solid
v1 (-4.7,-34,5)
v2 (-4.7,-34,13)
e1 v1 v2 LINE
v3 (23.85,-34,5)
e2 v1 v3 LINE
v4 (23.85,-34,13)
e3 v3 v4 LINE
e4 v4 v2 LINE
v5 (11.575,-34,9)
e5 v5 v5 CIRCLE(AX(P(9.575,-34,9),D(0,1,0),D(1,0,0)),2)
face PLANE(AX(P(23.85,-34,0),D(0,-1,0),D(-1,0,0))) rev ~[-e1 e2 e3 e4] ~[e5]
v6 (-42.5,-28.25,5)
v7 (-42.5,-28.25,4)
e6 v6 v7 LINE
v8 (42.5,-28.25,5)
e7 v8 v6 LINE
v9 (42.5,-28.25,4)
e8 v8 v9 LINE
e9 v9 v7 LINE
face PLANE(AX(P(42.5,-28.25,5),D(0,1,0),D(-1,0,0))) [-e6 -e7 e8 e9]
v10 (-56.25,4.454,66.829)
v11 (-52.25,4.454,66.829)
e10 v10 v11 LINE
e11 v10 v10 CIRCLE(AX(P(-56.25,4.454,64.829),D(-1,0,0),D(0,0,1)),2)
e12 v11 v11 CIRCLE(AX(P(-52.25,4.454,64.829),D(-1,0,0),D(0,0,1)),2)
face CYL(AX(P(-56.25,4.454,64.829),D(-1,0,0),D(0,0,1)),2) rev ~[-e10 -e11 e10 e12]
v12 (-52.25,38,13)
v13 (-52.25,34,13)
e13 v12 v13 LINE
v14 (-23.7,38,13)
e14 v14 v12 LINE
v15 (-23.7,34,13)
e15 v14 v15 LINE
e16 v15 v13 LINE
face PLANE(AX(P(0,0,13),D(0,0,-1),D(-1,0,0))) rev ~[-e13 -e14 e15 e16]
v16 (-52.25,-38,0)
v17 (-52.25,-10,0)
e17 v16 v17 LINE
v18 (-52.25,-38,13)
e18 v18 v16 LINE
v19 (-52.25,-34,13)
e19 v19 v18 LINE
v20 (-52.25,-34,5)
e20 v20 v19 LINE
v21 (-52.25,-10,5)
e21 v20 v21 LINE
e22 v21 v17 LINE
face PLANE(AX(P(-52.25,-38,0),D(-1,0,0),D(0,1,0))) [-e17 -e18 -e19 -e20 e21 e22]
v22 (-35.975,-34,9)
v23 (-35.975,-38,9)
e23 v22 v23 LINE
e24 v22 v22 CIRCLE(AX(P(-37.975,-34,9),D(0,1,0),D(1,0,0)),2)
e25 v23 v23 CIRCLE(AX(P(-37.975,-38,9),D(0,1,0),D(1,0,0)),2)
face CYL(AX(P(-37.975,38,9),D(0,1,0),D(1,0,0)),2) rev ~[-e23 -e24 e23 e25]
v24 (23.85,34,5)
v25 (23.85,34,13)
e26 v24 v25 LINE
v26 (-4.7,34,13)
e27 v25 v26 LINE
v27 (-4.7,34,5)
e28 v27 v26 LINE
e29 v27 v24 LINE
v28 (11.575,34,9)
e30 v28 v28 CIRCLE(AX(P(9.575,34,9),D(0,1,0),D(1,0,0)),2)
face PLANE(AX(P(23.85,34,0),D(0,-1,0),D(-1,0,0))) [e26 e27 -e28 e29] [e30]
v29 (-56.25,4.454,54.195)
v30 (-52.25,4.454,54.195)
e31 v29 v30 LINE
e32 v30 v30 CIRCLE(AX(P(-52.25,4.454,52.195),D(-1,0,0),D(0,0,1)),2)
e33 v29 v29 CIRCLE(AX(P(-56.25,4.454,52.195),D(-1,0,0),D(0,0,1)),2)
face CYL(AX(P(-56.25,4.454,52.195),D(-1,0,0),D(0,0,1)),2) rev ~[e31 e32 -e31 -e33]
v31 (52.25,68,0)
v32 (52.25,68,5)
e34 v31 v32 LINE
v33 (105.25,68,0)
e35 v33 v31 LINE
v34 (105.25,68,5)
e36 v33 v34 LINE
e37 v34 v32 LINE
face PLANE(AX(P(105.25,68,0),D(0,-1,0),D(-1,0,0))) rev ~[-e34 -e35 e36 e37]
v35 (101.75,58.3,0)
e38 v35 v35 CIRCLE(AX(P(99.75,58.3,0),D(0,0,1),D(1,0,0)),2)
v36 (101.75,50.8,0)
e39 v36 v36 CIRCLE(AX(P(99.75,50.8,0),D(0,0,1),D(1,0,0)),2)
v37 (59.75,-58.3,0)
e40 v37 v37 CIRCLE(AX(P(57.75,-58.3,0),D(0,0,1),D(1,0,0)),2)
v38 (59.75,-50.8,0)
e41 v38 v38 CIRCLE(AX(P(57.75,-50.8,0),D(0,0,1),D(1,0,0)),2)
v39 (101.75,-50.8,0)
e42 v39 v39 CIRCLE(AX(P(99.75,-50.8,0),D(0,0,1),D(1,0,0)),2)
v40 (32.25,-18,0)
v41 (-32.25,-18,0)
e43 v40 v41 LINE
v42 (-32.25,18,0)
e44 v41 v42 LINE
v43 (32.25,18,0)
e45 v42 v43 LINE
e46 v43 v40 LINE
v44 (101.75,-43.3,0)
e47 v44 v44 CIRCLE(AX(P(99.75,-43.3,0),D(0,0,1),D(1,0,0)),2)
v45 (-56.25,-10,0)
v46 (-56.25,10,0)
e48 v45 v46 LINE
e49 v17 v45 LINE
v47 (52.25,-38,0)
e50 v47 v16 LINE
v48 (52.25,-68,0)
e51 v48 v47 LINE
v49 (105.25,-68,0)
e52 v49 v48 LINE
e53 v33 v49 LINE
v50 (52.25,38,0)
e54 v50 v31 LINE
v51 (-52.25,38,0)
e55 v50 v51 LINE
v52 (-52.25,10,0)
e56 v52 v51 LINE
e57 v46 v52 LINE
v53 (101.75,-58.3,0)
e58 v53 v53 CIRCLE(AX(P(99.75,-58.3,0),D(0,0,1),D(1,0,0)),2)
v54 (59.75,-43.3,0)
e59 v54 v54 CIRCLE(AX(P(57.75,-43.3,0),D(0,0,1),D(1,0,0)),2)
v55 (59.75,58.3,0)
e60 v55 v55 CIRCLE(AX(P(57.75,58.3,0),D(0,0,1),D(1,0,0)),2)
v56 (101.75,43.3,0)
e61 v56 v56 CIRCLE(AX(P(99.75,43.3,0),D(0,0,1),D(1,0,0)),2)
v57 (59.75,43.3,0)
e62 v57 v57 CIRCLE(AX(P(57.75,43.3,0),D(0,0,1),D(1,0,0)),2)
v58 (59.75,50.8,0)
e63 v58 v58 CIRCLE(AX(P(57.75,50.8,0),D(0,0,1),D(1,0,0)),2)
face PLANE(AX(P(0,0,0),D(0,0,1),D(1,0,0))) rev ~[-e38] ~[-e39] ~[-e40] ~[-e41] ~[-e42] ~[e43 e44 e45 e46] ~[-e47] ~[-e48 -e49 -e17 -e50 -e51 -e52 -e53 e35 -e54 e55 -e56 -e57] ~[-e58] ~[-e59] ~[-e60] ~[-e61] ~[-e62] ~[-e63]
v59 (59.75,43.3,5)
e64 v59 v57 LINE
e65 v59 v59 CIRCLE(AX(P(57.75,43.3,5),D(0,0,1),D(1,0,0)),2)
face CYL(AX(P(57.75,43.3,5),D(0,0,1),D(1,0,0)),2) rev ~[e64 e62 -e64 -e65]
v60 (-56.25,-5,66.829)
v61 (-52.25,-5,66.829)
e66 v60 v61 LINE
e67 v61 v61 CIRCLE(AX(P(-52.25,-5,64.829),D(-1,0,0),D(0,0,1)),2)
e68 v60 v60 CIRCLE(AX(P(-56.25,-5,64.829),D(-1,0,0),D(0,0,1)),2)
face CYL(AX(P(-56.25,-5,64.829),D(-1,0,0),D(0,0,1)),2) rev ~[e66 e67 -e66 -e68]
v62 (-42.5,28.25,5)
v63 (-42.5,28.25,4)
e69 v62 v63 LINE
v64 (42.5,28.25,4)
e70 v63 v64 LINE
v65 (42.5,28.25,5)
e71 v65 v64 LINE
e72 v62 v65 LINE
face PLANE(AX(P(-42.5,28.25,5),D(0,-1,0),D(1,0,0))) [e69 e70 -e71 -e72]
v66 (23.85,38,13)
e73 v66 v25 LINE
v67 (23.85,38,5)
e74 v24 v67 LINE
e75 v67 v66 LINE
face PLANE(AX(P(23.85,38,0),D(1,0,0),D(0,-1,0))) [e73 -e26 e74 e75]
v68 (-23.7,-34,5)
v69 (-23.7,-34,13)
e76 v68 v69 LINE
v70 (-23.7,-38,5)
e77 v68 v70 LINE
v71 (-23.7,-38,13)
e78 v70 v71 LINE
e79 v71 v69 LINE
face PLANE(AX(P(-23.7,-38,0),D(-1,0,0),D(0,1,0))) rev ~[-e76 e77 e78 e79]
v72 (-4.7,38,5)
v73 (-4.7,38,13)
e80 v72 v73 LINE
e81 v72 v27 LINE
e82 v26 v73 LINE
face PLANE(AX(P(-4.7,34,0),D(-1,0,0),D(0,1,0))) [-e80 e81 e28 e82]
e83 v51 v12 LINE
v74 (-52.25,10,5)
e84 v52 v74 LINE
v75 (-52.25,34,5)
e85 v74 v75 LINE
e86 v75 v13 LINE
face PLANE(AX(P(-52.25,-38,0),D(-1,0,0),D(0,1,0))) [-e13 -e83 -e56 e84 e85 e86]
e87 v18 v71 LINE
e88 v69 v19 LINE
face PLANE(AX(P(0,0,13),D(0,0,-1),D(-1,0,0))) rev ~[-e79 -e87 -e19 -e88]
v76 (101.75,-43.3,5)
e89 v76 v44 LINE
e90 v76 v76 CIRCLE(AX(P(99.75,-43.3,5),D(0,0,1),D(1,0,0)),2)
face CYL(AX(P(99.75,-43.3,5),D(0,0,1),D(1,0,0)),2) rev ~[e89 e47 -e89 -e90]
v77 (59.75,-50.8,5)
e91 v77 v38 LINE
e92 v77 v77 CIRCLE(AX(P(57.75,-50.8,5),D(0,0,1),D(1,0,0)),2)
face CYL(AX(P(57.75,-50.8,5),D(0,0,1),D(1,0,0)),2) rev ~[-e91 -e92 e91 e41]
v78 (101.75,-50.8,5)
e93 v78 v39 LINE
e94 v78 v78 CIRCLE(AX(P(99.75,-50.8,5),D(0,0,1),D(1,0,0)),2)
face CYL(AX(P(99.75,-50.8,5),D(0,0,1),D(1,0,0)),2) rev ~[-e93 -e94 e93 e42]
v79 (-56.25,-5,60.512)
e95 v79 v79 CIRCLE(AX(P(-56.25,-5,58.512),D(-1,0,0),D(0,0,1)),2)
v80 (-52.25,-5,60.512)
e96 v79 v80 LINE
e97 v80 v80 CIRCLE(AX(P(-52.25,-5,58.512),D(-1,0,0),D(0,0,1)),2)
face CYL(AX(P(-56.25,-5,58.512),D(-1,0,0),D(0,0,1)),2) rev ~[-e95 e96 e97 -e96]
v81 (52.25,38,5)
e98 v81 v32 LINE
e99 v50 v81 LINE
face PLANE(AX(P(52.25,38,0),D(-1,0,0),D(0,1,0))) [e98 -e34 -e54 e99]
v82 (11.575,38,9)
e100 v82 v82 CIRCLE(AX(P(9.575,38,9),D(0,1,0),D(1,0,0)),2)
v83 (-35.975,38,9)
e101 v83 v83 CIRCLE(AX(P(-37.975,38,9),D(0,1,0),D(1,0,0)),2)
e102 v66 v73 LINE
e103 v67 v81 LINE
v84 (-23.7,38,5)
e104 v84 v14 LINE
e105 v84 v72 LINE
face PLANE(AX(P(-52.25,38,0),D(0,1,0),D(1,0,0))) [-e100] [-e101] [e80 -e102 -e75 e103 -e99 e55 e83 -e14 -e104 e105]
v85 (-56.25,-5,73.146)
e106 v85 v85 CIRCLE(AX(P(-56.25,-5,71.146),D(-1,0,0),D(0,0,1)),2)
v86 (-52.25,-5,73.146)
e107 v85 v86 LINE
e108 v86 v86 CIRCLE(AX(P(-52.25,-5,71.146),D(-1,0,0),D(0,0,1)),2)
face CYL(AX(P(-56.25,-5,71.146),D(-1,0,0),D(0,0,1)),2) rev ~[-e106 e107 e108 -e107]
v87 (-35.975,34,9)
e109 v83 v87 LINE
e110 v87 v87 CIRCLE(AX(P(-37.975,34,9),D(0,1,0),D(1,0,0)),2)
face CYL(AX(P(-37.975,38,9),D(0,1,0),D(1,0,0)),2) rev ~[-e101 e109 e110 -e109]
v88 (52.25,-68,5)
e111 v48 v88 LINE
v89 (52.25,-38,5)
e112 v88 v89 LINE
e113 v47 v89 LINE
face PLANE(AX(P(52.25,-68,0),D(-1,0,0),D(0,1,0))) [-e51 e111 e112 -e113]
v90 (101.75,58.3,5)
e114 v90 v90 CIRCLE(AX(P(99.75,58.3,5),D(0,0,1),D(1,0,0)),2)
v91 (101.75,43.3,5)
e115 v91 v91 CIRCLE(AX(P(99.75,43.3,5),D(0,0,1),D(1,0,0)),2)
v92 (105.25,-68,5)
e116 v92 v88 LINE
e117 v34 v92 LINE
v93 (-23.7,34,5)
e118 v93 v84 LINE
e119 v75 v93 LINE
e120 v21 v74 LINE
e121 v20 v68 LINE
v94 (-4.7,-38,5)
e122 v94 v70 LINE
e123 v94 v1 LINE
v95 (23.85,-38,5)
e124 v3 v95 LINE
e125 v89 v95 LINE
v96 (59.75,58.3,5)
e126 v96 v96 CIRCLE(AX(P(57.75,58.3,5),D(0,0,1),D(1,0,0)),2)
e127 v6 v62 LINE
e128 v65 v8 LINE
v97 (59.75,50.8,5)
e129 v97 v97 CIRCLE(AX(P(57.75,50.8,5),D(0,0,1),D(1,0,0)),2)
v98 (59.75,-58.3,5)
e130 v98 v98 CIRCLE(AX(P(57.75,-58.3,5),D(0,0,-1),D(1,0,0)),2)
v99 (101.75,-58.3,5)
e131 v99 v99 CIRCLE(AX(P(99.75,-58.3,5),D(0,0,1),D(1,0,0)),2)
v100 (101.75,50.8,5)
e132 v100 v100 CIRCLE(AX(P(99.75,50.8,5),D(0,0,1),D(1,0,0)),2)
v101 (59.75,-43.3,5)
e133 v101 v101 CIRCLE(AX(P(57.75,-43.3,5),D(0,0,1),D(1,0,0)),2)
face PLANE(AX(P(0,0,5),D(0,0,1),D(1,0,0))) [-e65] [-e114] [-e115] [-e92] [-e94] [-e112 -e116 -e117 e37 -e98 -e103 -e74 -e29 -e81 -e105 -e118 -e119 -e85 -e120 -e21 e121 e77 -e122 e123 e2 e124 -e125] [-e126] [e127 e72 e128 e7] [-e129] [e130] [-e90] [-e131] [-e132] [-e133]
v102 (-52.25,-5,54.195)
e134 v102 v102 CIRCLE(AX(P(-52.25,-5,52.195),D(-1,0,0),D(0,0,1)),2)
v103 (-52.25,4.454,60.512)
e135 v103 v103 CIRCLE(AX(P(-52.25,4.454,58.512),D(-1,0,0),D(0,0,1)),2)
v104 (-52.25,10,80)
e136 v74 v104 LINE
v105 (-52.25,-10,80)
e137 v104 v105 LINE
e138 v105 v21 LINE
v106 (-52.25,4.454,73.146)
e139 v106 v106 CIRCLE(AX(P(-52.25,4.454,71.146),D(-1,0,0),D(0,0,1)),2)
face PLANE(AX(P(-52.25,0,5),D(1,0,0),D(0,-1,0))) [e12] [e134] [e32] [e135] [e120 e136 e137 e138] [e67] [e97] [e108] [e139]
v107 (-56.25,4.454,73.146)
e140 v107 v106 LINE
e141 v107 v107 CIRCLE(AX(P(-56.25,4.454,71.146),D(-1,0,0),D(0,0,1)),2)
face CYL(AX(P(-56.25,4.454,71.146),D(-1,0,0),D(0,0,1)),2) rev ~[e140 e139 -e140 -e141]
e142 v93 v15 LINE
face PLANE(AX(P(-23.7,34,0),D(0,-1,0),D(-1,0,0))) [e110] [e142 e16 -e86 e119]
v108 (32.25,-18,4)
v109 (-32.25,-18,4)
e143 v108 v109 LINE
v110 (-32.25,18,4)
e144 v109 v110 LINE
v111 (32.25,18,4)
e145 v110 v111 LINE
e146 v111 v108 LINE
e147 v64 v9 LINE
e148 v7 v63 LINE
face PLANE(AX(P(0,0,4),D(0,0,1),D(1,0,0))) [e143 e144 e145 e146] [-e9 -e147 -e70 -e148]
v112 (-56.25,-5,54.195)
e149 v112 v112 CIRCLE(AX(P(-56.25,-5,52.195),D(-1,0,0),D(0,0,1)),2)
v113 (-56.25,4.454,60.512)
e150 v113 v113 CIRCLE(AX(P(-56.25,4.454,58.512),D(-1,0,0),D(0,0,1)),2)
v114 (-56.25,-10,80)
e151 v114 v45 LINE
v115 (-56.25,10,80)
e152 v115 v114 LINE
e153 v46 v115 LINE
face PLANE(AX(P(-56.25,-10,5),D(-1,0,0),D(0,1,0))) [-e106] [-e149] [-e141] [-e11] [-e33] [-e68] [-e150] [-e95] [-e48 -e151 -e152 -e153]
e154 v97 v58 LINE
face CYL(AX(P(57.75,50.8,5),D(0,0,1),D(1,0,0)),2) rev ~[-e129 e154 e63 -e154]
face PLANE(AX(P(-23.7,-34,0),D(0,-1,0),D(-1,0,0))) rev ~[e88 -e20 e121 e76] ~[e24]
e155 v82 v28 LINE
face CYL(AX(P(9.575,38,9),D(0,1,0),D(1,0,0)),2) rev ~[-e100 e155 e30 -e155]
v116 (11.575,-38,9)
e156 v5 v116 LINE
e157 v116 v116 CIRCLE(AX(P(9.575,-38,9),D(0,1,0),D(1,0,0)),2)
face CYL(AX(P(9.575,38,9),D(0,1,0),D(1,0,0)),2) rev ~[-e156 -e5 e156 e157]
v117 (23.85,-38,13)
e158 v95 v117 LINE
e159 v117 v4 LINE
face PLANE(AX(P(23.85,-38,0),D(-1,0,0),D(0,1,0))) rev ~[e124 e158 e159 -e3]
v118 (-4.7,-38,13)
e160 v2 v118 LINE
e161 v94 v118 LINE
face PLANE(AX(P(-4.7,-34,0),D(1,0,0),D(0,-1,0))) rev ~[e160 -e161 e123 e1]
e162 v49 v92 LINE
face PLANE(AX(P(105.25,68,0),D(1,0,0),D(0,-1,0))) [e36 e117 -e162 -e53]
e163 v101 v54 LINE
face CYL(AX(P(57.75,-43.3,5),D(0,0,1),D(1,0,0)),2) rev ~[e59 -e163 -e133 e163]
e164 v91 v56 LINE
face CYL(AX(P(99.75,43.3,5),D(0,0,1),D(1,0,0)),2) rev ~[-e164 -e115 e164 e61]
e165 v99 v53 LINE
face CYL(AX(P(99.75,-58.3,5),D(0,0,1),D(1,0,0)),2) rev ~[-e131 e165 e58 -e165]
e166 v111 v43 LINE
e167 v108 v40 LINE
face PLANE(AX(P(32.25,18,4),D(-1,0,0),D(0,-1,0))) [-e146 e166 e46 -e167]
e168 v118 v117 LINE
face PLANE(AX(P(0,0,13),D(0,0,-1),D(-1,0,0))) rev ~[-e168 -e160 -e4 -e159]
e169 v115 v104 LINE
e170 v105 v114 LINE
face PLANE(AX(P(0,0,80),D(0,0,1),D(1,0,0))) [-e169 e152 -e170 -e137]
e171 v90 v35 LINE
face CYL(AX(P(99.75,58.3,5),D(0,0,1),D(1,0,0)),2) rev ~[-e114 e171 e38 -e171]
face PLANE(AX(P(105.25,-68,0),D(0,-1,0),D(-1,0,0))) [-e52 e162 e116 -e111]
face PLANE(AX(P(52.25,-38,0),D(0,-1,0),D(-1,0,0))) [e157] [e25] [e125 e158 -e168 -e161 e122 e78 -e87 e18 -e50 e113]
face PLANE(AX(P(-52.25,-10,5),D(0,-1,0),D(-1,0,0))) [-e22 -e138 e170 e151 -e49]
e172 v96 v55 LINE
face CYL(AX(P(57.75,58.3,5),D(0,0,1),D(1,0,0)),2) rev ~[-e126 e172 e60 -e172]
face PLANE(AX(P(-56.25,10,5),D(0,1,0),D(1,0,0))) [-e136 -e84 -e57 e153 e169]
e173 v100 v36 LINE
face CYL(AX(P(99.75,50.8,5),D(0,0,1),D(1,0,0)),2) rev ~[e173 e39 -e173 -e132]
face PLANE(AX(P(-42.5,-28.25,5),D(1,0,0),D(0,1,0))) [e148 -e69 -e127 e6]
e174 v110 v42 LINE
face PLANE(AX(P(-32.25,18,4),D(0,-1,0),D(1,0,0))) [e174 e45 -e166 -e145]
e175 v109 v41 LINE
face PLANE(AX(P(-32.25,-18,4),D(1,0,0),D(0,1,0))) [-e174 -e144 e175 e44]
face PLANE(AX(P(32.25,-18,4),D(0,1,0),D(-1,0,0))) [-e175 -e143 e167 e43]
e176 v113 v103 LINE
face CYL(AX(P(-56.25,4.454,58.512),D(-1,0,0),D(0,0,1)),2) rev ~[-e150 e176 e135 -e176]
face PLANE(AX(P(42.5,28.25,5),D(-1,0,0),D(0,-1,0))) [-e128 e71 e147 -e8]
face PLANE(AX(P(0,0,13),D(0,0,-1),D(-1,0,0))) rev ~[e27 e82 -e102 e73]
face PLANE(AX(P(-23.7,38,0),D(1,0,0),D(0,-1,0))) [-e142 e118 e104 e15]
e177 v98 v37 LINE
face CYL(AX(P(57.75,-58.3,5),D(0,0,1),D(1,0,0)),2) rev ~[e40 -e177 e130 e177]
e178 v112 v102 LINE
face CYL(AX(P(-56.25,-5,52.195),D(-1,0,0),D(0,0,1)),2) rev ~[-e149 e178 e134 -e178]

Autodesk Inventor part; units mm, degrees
ref_plane "YZ Plane" through (0, 0, 0) normal (1, 0, 0) x (0, 1, 0)
ref_plane "XZ Plane" through (0, 0, 0) normal (0, 1, 0) x (-1, 0, 0)
ref_plane "XY Plane" through (0, 0, 0) normal (0, 0, 1) x (1, 0, 0)
sketch "Эскиз1" plane through (0, 0, 0) normal (0, 0, 1) x (1, 0, 0)
  line L0 (-42.5, -28.25) -> (42.5, -28.25) construction
  line L1 (42.5, -28.25) -> (42.5, 28.25) construction
  line L2 (42.5, 28.25) -> (-42.5, 28.25) construction
  line L3 (-42.5, 28.25) -> (-42.5, -28.25) construction
  line L4 (-52.25, 38) -> (52.25, 38)
  line L5 (52.25, 38) -> (52.25, -38)
  line L6 (52.25, -38) -> (-52.25, -38)
  line L7 (-52.25, -38) -> (-52.25, 38)
  line L8 (52.25, 38) -> (52.25, 68) construction
  line L9 (52.25, 68) -> (105.25, 68) construction
  line L10 (105.25, 68) -> (105.25, 0) construction
  line L11 (105.25, 0) -> (105.25, -68) construction
  line L12 (105.25, -68) -> (52.25, -68) construction
  line L13 (52.25, -68) -> (52.25, 0) construction
  line L14 (52.25, 38) -> (52.25, 68)
  line L15 (105.25, 68) -> (52.25, 68)
  line L16 (105.25, 68) -> (105.25, -68)
  line L17 (105.25, -68) -> (52.25, -68)
  line L18 (52.25, -68) -> (52.25, 0)
  line L19 (-42.5, -28.25) -> (42.5, -28.25)
  line L20 (42.5, 28.25) -> (42.5, -28.25)
  line L21 (-42.5, -28.25) -> (-42.5, 28.25)
  line L22 (42.5, 28.25) -> (-42.5, 28.25)
  dimension "d0" = 85
  dimension "d1" = 56.5
  dimension "d2" = 9.75
  dimension "d3" = 68
  dimension "d4" = 53
  dimension "d5" = 68
extrude "Выдавливание1" add sketch "Эскиз1" along normal blind 5 contours L4 L5 L6 L7 | L14 L15 L16 L17 L18 L5 | L21 L22 L20 L19
sketch "Эскиз4" plane through (0, 0, 5) normal (0, 0, 1) x (1, 0, 0)
  line L0 (-42.5, -28.25) -> (42.5, -28.25) construction
  line L1 (-42.5, -28.25) -> (-42.5, 28.25) projected
  line L2 (42.5, 28.25) -> (-42.5, 28.25) construction
  line L3 (-42.5, 28.25) -> (42.5, 28.25)
  line L4 (42.5, 28.25) -> (42.5, -28.25)
  line L5 (42.5, -28.25) -> (-42.5, -28.25)
  line L6 (-42.5, -28.25) -> (-42.5, 28.25)
  point P0 (0, 0)
extrude "Выдавливание3" cut sketch "Эскиз4" against normal blind 1
sketch "Эскиз5" plane through (0, 0, 4) normal (0, 0, 1) x (1, 0, 0)
  line L0 (42.5, 28.25) -> (42.5, -28.25) projected
  line L1 (-42.5, 28.25) -> (42.5, 28.25) projected
  line L2 (-42.5, -28.25) -> (-42.5, 28.25) projected
  line L3 (42.5, -28.25) -> (-42.5, -28.25) projected
  line L4 (32.25, 18) -> (32.25, -18)
  line L5 (32.25, -18) -> (-32.25, -18)
  line L6 (-32.25, -18) -> (-32.25, 18)
  line L7 (-32.25, 18) -> (32.25, 18)
  point P0 (0, 0)
  dimension "d12" = 10.25
extrude "Выдавливание4" cut sketch "Эскиз5" against normal blind 8 contours L4 L5 L6 L7
sketch "Эскиз6" plane through (0, 0, 5) normal (0, 0, 1) x (1, 0, 0)
  line L0 (-33.05, 26.6205) -> (33.05, 26.6205) construction
  line L1 (33.05, 26.6205) -> (33.05, -26.6205) construction
  line L2 (33.05, -26.6205) -> (-33.05, -26.6205) construction
  line L3 (-33.05, -26.6205) -> (-33.05, 26.6205) construction
  line L4 (-33.05, 26.6205) -> (33.05, -26.6205) construction
  line L5 (33.05, 26.6205) -> (-33.05, -26.6205) construction
  point P0 (0, 0)
  dimension "d15" = 66.1
  dimension "d16" = 53.241
sketch "Эскиз7" plane through (0, 0, 5) normal (0, 0, 1) x (1, 0, 0)
  line L0 (-52.25, 38) -> (-52.25, -38) construction
  line L1 (-52.25, 0) -> (-56.25, 0)
  line L2 (-56.25, 10) -> (-52.25, 10)
  line L3 (-52.25, 10) -> (-52.25, -10)
  line L4 (-52.25, -10) -> (-56.25, -10)
  line L5 (-56.25, -10) -> (-56.25, 10)
  line L6 (-56.25, 10) -> (-52.25, -10) construction
  line L7 (-52.25, 10) -> (-56.25, -10) construction
  point P0 (0, 0)
  point P1 (-54.25, 0)
  dimension "d17" = 4
  dimension "d18" = 20
extrude "Выдавливание5" add sketch "Эскиз7" along normal blind 75 and the other way blind 5
sketch "Эскиз8" plane through (-56.25, -10, 80) normal (-1, 0, 0) x (0, 0, 1)
  line L0 (0, 0) -> (-80, 0) projected
  line L1 (0, 20) -> (0, 0) projected
  line L2 (-80, 20) -> (0, 20) projected
  line L3 (-80, 0) -> (-80, 20) projected
  line L4 (-80, 0) -> (-33.989, 0) construction
  line L5 (0, 0) -> (-80, 0) construction
  line L6 (-33.989, 0) -> (-33.989, 20) construction
  line L7 (0, 20) -> (-75, 20) construction
  line L8 (-33.989, 20) -> (-27.805, 20) construction
  line L9 (-27.805, 20) -> (-27.805, 14.454) construction
  circle A0 centre (-27.805, 14.454) radius 2
  line L10 (-27.805, 14.454) -> (-21.488, 14.454) construction
  line L11 (-27.805, 14.454) -> (-27.805, 5) construction
  circle A1 centre (-27.805, 5) radius 2
  circle A2 centre (-21.488, 14.454) radius 2
  circle A3 centre (-21.488, 5) radius 2
  circle A4 centre (-15.171, 14.454) radius 2
  circle A5 centre (-15.171, 5) radius 2
  circle A6 centre (-8.854, 14.454) radius 2
  circle A7 centre (-8.854, 5) radius 2
  point P0 (-80, 10)
  dimension "d23" = 46.011
  dimension "d24" = 6.184
  dimension "d25" = 5.546
  dimension "d26" = 4
  dimension "d27" = 6.317
  dimension "d28" = 9.454
  dimension "d29" = 4
  dimension "d32" = 6.317
extrude "Выдавливание6" cut sketch "Эскиз8" against normal blind 75 contours A0 | A1 | A2 | A3 | A4 | A5 | A6 | A7
sketch "Эскиз9" plane through (0, 0, 0) normal (0, 0, -1) x (-1, 0, 0)
  line L0 (-32.25, 18) -> (32.25, 18) projected
  line L1 (32.25, 18) -> (32.25, -18) projected
  line L2 (32.25, -18) -> (-32.25, -18) projected
  line L3 (-32.25, -18) -> (-32.25, 18) projected
  line L4 (-52.25, 68) -> (-52.25, 38) projected
  line L5 (-105.25, 68) -> (-52.25, 68) projected
  line L6 (-105.25, -68) -> (-105.25, 68) projected
  line L7 (-52.25, -68) -> (-105.25, -68) projected
  line L8 (-52.25, -38) -> (-52.25, -68) projected
  line L9 (52.25, -38) -> (-52.25, -38) projected
  line L10 (52.25, -10) -> (52.25, -38) projected
  line L11 (52.25, -10) -> (56.25, -10) projected
  line L12 (56.25, -10) -> (56.25, 10) projected
  line L13 (56.25, 10) -> (52.25, 10) projected
  line L14 (52.25, 38) -> (52.25, 10) projected
  line L15 (-52.25, 38) -> (52.25, 38) projected
  line L16 (52.25, -38) -> (52.25, -42) construction
  line L17 (52.25, -38) -> (-52.25, -38) projected
  line L18 (52.25, -38) -> (23.7, -38)
  line L19 (4.7, -38) -> (-23.85, -38)
  line L20 (56.25, 0) -> (0, 0) construction
  line L21 (52.25, 38) -> (-52.25, 38)
  line L22 (52.25, 38) -> (52.25, 42) construction
  line L23 (4.7, 38) -> (-23.85, 38)
  line L24 (23.7, 34) -> (52.25, 34)
  line L25 (23.7, 38) -> (23.7, 34)
  line L26 (52.25, 38) -> (52.25, 34) construction
  line L27 (52.25, 34) -> (52.25, 38)
  line L28 (4.7, 34) -> (4.7, 38)
  line L29 (-23.85, 34) -> (4.7, 34)
  line L30 (-23.85, 38) -> (-23.85, 34)
  line L31 (52.25, -38) -> (52.25, -34) construction
  line L32 (23.7, -38) -> (23.7, -34)
  line L33 (23.7, -34) -> (52.25, -34)
  line L34 (52.25, -34) -> (52.25, -38)
  line L35 (-23.85, -38) -> (-23.85, -34)
  line L36 (-23.85, -34) -> (4.7, -34)
  line L37 (4.7, -34) -> (4.7, -38)
  line L38 (52.25, 34) -> (23.7, 34)
  line L39 (23.7, 34) -> (23.7, 38)
  line L40 (23.7, 38) -> (52.25, 38)
  line L41 (52.25, 38) -> (52.25, 34)
  line L42 (4.7, 34) -> (-23.85, 34)
  line L43 (-23.85, 34) -> (-23.85, 38)
  line L44 (-23.85, 38) -> (4.7, 38)
  line L45 (4.7, 38) -> (4.7, 34)
  dimension "d39" = 4
extrude "Выдавливание7" add sketch "Эскиз9" against normal blind 13 contours L15 L28 L29 L30 | L15 L14 L24 L25 | L35 L36 L37 L9 | L32 L33 L10 L9
sketch "Эскиз10" plane through (-52.25, 38, 0) normal (0, 1, 0) x (1, 0, 0)
  line L0 (47.55, -5) -> (28.55, -5) construction
  line L1 (28.55, -5) -> (0, -5) construction
  line L2 (0, 0) -> (0, -13) construction
  line L3 (0, -5) -> (0, -13) construction
  line L4 (0, -13) -> (0, -5) construction
  circle A0 centre (14.275, -9) radius 2
  line L5 (38.05, -7) -> (38.05, -12) construction
  circle A1 centre (61.825, -9) radius 2
  point P0 (52.25, 0)
  dimension "d45" = 4
extrude "Выдавливание8" cut sketch "Эскиз10" against normal up to surface (76 mm away)
sketch "Эскиз11" plane through (0, 0, 5) normal (0, 0, 1) x (1, 0, 0)
  line L0 (-42.5, 28.25) -> (42.5, 28.25) projected
  line L1 (42.5, 28.25) -> (42.5, -28.25) projected
  line L2 (42.5, -28.25) -> (-42.5, -28.25) projected
  line L3 (-42.5, -28.25) -> (-42.5, 28.25) projected
  line L4 (-23.7, 38) -> (-23.7, 34) projected
  line L5 (-23.7, 34) -> (-52.25, 34) projected
  line L6 (-52.25, 34) -> (-52.25, 10) projected
  line L7 (-52.25, 10) -> (-52.25, -10) projected
  line L8 (-52.25, -10) -> (-52.25, -34) projected
  line L9 (-52.25, -34) -> (-23.7, -34) projected
  line L10 (-23.7, -34) -> (-23.7, -38) projected
  line L11 (-23.7, -38) -> (-4.7, -38) projected
  line L12 (-4.7, -38) -> (-4.7, -34) projected
  line L13 (-4.7, -34) -> (23.85, -34) projected
  line L14 (23.85, -34) -> (23.85, -38) projected
  line L15 (23.85, -38) -> (52.25, -38) projected
  line L16 (52.25, -38) -> (52.25, -68) projected
  line L17 (52.25, -68) -> (105.25, -68) projected
  line L18 (105.25, -68) -> (105.25, 68) projected
  line L19 (105.25, 68) -> (52.25, 68) projected
  line L20 (52.25, 68) -> (52.25, 38) projected
  line L21 (52.25, 38) -> (23.85, 38) projected
  line L22 (23.85, 38) -> (23.85, 34) projected
  line L23 (23.85, 34) -> (-4.7, 34) projected
  line L24 (-4.7, 34) -> (-4.7, 38) projected
  line L25 (-4.7, 38) -> (-23.7, 38) projected
  line L26 (52.25, -38) -> (52.25, -68) projected
  line L27 (52.25, -68) -> (57.75, -68)
  line L28 (52.25, -68) -> (105.25, -68) projected
  line L29 (57.75, -68) -> (57.75, -38) construction
  line L30 (23.85, -38) -> (52.25, -38) projected
  line L31 (57.75, -38) -> (52.25, -38) construction
  line L32 (57.75, -68) -> (57.75, -58.3)
  circle A0 centre (57.75, -58.3) radius 2
  line L33 (57.75, -58.3) -> (57.75, -50.8) construction
  circle A1 centre (57.75, -50.8) radius 2
  circle A2 centre (57.75, -43.3) radius 2
  line L34 (52.25, -68) -> (105.25, -68) construction
  line L35 (78.75, -68) -> (78.75, -28.25) construction
  circle A3 centre (99.75, -58.3) radius 2
  circle A4 centre (99.75, -50.8) radius 2
  circle A5 centre (99.75, -43.3) radius 2
  line L36 (105.25, -68) -> (105.25, 68) construction
  line L37 (105.25, 0) -> (77, 0) construction
  circle A6 centre (57.75, 58.3) radius 2
  circle A7 centre (57.75, 50.8) radius 2
  circle A8 centre (57.75, 43.3) radius 2
  circle A9 centre (99.75, 58.3) radius 2
  circle A10 centre (99.75, 50.8) radius 2
  circle A11 centre (99.75, 43.3) radius 2
  point P0 (0, 0)
  dimension "d48" = 5.5
  dimension "d49" = 9.7
  dimension "d50" = 4
  dimension "d51" = 7.5
  dimension "d54" = 7.5
extrude "Выдавливание9" cut sketch "Эскиз11" against normal blind 10 contours A0 | A1 | A2 | A3 | A4 | A5 | A6 | A7 | A8 | A9 | A10 | A11
properties part number "LIner"
